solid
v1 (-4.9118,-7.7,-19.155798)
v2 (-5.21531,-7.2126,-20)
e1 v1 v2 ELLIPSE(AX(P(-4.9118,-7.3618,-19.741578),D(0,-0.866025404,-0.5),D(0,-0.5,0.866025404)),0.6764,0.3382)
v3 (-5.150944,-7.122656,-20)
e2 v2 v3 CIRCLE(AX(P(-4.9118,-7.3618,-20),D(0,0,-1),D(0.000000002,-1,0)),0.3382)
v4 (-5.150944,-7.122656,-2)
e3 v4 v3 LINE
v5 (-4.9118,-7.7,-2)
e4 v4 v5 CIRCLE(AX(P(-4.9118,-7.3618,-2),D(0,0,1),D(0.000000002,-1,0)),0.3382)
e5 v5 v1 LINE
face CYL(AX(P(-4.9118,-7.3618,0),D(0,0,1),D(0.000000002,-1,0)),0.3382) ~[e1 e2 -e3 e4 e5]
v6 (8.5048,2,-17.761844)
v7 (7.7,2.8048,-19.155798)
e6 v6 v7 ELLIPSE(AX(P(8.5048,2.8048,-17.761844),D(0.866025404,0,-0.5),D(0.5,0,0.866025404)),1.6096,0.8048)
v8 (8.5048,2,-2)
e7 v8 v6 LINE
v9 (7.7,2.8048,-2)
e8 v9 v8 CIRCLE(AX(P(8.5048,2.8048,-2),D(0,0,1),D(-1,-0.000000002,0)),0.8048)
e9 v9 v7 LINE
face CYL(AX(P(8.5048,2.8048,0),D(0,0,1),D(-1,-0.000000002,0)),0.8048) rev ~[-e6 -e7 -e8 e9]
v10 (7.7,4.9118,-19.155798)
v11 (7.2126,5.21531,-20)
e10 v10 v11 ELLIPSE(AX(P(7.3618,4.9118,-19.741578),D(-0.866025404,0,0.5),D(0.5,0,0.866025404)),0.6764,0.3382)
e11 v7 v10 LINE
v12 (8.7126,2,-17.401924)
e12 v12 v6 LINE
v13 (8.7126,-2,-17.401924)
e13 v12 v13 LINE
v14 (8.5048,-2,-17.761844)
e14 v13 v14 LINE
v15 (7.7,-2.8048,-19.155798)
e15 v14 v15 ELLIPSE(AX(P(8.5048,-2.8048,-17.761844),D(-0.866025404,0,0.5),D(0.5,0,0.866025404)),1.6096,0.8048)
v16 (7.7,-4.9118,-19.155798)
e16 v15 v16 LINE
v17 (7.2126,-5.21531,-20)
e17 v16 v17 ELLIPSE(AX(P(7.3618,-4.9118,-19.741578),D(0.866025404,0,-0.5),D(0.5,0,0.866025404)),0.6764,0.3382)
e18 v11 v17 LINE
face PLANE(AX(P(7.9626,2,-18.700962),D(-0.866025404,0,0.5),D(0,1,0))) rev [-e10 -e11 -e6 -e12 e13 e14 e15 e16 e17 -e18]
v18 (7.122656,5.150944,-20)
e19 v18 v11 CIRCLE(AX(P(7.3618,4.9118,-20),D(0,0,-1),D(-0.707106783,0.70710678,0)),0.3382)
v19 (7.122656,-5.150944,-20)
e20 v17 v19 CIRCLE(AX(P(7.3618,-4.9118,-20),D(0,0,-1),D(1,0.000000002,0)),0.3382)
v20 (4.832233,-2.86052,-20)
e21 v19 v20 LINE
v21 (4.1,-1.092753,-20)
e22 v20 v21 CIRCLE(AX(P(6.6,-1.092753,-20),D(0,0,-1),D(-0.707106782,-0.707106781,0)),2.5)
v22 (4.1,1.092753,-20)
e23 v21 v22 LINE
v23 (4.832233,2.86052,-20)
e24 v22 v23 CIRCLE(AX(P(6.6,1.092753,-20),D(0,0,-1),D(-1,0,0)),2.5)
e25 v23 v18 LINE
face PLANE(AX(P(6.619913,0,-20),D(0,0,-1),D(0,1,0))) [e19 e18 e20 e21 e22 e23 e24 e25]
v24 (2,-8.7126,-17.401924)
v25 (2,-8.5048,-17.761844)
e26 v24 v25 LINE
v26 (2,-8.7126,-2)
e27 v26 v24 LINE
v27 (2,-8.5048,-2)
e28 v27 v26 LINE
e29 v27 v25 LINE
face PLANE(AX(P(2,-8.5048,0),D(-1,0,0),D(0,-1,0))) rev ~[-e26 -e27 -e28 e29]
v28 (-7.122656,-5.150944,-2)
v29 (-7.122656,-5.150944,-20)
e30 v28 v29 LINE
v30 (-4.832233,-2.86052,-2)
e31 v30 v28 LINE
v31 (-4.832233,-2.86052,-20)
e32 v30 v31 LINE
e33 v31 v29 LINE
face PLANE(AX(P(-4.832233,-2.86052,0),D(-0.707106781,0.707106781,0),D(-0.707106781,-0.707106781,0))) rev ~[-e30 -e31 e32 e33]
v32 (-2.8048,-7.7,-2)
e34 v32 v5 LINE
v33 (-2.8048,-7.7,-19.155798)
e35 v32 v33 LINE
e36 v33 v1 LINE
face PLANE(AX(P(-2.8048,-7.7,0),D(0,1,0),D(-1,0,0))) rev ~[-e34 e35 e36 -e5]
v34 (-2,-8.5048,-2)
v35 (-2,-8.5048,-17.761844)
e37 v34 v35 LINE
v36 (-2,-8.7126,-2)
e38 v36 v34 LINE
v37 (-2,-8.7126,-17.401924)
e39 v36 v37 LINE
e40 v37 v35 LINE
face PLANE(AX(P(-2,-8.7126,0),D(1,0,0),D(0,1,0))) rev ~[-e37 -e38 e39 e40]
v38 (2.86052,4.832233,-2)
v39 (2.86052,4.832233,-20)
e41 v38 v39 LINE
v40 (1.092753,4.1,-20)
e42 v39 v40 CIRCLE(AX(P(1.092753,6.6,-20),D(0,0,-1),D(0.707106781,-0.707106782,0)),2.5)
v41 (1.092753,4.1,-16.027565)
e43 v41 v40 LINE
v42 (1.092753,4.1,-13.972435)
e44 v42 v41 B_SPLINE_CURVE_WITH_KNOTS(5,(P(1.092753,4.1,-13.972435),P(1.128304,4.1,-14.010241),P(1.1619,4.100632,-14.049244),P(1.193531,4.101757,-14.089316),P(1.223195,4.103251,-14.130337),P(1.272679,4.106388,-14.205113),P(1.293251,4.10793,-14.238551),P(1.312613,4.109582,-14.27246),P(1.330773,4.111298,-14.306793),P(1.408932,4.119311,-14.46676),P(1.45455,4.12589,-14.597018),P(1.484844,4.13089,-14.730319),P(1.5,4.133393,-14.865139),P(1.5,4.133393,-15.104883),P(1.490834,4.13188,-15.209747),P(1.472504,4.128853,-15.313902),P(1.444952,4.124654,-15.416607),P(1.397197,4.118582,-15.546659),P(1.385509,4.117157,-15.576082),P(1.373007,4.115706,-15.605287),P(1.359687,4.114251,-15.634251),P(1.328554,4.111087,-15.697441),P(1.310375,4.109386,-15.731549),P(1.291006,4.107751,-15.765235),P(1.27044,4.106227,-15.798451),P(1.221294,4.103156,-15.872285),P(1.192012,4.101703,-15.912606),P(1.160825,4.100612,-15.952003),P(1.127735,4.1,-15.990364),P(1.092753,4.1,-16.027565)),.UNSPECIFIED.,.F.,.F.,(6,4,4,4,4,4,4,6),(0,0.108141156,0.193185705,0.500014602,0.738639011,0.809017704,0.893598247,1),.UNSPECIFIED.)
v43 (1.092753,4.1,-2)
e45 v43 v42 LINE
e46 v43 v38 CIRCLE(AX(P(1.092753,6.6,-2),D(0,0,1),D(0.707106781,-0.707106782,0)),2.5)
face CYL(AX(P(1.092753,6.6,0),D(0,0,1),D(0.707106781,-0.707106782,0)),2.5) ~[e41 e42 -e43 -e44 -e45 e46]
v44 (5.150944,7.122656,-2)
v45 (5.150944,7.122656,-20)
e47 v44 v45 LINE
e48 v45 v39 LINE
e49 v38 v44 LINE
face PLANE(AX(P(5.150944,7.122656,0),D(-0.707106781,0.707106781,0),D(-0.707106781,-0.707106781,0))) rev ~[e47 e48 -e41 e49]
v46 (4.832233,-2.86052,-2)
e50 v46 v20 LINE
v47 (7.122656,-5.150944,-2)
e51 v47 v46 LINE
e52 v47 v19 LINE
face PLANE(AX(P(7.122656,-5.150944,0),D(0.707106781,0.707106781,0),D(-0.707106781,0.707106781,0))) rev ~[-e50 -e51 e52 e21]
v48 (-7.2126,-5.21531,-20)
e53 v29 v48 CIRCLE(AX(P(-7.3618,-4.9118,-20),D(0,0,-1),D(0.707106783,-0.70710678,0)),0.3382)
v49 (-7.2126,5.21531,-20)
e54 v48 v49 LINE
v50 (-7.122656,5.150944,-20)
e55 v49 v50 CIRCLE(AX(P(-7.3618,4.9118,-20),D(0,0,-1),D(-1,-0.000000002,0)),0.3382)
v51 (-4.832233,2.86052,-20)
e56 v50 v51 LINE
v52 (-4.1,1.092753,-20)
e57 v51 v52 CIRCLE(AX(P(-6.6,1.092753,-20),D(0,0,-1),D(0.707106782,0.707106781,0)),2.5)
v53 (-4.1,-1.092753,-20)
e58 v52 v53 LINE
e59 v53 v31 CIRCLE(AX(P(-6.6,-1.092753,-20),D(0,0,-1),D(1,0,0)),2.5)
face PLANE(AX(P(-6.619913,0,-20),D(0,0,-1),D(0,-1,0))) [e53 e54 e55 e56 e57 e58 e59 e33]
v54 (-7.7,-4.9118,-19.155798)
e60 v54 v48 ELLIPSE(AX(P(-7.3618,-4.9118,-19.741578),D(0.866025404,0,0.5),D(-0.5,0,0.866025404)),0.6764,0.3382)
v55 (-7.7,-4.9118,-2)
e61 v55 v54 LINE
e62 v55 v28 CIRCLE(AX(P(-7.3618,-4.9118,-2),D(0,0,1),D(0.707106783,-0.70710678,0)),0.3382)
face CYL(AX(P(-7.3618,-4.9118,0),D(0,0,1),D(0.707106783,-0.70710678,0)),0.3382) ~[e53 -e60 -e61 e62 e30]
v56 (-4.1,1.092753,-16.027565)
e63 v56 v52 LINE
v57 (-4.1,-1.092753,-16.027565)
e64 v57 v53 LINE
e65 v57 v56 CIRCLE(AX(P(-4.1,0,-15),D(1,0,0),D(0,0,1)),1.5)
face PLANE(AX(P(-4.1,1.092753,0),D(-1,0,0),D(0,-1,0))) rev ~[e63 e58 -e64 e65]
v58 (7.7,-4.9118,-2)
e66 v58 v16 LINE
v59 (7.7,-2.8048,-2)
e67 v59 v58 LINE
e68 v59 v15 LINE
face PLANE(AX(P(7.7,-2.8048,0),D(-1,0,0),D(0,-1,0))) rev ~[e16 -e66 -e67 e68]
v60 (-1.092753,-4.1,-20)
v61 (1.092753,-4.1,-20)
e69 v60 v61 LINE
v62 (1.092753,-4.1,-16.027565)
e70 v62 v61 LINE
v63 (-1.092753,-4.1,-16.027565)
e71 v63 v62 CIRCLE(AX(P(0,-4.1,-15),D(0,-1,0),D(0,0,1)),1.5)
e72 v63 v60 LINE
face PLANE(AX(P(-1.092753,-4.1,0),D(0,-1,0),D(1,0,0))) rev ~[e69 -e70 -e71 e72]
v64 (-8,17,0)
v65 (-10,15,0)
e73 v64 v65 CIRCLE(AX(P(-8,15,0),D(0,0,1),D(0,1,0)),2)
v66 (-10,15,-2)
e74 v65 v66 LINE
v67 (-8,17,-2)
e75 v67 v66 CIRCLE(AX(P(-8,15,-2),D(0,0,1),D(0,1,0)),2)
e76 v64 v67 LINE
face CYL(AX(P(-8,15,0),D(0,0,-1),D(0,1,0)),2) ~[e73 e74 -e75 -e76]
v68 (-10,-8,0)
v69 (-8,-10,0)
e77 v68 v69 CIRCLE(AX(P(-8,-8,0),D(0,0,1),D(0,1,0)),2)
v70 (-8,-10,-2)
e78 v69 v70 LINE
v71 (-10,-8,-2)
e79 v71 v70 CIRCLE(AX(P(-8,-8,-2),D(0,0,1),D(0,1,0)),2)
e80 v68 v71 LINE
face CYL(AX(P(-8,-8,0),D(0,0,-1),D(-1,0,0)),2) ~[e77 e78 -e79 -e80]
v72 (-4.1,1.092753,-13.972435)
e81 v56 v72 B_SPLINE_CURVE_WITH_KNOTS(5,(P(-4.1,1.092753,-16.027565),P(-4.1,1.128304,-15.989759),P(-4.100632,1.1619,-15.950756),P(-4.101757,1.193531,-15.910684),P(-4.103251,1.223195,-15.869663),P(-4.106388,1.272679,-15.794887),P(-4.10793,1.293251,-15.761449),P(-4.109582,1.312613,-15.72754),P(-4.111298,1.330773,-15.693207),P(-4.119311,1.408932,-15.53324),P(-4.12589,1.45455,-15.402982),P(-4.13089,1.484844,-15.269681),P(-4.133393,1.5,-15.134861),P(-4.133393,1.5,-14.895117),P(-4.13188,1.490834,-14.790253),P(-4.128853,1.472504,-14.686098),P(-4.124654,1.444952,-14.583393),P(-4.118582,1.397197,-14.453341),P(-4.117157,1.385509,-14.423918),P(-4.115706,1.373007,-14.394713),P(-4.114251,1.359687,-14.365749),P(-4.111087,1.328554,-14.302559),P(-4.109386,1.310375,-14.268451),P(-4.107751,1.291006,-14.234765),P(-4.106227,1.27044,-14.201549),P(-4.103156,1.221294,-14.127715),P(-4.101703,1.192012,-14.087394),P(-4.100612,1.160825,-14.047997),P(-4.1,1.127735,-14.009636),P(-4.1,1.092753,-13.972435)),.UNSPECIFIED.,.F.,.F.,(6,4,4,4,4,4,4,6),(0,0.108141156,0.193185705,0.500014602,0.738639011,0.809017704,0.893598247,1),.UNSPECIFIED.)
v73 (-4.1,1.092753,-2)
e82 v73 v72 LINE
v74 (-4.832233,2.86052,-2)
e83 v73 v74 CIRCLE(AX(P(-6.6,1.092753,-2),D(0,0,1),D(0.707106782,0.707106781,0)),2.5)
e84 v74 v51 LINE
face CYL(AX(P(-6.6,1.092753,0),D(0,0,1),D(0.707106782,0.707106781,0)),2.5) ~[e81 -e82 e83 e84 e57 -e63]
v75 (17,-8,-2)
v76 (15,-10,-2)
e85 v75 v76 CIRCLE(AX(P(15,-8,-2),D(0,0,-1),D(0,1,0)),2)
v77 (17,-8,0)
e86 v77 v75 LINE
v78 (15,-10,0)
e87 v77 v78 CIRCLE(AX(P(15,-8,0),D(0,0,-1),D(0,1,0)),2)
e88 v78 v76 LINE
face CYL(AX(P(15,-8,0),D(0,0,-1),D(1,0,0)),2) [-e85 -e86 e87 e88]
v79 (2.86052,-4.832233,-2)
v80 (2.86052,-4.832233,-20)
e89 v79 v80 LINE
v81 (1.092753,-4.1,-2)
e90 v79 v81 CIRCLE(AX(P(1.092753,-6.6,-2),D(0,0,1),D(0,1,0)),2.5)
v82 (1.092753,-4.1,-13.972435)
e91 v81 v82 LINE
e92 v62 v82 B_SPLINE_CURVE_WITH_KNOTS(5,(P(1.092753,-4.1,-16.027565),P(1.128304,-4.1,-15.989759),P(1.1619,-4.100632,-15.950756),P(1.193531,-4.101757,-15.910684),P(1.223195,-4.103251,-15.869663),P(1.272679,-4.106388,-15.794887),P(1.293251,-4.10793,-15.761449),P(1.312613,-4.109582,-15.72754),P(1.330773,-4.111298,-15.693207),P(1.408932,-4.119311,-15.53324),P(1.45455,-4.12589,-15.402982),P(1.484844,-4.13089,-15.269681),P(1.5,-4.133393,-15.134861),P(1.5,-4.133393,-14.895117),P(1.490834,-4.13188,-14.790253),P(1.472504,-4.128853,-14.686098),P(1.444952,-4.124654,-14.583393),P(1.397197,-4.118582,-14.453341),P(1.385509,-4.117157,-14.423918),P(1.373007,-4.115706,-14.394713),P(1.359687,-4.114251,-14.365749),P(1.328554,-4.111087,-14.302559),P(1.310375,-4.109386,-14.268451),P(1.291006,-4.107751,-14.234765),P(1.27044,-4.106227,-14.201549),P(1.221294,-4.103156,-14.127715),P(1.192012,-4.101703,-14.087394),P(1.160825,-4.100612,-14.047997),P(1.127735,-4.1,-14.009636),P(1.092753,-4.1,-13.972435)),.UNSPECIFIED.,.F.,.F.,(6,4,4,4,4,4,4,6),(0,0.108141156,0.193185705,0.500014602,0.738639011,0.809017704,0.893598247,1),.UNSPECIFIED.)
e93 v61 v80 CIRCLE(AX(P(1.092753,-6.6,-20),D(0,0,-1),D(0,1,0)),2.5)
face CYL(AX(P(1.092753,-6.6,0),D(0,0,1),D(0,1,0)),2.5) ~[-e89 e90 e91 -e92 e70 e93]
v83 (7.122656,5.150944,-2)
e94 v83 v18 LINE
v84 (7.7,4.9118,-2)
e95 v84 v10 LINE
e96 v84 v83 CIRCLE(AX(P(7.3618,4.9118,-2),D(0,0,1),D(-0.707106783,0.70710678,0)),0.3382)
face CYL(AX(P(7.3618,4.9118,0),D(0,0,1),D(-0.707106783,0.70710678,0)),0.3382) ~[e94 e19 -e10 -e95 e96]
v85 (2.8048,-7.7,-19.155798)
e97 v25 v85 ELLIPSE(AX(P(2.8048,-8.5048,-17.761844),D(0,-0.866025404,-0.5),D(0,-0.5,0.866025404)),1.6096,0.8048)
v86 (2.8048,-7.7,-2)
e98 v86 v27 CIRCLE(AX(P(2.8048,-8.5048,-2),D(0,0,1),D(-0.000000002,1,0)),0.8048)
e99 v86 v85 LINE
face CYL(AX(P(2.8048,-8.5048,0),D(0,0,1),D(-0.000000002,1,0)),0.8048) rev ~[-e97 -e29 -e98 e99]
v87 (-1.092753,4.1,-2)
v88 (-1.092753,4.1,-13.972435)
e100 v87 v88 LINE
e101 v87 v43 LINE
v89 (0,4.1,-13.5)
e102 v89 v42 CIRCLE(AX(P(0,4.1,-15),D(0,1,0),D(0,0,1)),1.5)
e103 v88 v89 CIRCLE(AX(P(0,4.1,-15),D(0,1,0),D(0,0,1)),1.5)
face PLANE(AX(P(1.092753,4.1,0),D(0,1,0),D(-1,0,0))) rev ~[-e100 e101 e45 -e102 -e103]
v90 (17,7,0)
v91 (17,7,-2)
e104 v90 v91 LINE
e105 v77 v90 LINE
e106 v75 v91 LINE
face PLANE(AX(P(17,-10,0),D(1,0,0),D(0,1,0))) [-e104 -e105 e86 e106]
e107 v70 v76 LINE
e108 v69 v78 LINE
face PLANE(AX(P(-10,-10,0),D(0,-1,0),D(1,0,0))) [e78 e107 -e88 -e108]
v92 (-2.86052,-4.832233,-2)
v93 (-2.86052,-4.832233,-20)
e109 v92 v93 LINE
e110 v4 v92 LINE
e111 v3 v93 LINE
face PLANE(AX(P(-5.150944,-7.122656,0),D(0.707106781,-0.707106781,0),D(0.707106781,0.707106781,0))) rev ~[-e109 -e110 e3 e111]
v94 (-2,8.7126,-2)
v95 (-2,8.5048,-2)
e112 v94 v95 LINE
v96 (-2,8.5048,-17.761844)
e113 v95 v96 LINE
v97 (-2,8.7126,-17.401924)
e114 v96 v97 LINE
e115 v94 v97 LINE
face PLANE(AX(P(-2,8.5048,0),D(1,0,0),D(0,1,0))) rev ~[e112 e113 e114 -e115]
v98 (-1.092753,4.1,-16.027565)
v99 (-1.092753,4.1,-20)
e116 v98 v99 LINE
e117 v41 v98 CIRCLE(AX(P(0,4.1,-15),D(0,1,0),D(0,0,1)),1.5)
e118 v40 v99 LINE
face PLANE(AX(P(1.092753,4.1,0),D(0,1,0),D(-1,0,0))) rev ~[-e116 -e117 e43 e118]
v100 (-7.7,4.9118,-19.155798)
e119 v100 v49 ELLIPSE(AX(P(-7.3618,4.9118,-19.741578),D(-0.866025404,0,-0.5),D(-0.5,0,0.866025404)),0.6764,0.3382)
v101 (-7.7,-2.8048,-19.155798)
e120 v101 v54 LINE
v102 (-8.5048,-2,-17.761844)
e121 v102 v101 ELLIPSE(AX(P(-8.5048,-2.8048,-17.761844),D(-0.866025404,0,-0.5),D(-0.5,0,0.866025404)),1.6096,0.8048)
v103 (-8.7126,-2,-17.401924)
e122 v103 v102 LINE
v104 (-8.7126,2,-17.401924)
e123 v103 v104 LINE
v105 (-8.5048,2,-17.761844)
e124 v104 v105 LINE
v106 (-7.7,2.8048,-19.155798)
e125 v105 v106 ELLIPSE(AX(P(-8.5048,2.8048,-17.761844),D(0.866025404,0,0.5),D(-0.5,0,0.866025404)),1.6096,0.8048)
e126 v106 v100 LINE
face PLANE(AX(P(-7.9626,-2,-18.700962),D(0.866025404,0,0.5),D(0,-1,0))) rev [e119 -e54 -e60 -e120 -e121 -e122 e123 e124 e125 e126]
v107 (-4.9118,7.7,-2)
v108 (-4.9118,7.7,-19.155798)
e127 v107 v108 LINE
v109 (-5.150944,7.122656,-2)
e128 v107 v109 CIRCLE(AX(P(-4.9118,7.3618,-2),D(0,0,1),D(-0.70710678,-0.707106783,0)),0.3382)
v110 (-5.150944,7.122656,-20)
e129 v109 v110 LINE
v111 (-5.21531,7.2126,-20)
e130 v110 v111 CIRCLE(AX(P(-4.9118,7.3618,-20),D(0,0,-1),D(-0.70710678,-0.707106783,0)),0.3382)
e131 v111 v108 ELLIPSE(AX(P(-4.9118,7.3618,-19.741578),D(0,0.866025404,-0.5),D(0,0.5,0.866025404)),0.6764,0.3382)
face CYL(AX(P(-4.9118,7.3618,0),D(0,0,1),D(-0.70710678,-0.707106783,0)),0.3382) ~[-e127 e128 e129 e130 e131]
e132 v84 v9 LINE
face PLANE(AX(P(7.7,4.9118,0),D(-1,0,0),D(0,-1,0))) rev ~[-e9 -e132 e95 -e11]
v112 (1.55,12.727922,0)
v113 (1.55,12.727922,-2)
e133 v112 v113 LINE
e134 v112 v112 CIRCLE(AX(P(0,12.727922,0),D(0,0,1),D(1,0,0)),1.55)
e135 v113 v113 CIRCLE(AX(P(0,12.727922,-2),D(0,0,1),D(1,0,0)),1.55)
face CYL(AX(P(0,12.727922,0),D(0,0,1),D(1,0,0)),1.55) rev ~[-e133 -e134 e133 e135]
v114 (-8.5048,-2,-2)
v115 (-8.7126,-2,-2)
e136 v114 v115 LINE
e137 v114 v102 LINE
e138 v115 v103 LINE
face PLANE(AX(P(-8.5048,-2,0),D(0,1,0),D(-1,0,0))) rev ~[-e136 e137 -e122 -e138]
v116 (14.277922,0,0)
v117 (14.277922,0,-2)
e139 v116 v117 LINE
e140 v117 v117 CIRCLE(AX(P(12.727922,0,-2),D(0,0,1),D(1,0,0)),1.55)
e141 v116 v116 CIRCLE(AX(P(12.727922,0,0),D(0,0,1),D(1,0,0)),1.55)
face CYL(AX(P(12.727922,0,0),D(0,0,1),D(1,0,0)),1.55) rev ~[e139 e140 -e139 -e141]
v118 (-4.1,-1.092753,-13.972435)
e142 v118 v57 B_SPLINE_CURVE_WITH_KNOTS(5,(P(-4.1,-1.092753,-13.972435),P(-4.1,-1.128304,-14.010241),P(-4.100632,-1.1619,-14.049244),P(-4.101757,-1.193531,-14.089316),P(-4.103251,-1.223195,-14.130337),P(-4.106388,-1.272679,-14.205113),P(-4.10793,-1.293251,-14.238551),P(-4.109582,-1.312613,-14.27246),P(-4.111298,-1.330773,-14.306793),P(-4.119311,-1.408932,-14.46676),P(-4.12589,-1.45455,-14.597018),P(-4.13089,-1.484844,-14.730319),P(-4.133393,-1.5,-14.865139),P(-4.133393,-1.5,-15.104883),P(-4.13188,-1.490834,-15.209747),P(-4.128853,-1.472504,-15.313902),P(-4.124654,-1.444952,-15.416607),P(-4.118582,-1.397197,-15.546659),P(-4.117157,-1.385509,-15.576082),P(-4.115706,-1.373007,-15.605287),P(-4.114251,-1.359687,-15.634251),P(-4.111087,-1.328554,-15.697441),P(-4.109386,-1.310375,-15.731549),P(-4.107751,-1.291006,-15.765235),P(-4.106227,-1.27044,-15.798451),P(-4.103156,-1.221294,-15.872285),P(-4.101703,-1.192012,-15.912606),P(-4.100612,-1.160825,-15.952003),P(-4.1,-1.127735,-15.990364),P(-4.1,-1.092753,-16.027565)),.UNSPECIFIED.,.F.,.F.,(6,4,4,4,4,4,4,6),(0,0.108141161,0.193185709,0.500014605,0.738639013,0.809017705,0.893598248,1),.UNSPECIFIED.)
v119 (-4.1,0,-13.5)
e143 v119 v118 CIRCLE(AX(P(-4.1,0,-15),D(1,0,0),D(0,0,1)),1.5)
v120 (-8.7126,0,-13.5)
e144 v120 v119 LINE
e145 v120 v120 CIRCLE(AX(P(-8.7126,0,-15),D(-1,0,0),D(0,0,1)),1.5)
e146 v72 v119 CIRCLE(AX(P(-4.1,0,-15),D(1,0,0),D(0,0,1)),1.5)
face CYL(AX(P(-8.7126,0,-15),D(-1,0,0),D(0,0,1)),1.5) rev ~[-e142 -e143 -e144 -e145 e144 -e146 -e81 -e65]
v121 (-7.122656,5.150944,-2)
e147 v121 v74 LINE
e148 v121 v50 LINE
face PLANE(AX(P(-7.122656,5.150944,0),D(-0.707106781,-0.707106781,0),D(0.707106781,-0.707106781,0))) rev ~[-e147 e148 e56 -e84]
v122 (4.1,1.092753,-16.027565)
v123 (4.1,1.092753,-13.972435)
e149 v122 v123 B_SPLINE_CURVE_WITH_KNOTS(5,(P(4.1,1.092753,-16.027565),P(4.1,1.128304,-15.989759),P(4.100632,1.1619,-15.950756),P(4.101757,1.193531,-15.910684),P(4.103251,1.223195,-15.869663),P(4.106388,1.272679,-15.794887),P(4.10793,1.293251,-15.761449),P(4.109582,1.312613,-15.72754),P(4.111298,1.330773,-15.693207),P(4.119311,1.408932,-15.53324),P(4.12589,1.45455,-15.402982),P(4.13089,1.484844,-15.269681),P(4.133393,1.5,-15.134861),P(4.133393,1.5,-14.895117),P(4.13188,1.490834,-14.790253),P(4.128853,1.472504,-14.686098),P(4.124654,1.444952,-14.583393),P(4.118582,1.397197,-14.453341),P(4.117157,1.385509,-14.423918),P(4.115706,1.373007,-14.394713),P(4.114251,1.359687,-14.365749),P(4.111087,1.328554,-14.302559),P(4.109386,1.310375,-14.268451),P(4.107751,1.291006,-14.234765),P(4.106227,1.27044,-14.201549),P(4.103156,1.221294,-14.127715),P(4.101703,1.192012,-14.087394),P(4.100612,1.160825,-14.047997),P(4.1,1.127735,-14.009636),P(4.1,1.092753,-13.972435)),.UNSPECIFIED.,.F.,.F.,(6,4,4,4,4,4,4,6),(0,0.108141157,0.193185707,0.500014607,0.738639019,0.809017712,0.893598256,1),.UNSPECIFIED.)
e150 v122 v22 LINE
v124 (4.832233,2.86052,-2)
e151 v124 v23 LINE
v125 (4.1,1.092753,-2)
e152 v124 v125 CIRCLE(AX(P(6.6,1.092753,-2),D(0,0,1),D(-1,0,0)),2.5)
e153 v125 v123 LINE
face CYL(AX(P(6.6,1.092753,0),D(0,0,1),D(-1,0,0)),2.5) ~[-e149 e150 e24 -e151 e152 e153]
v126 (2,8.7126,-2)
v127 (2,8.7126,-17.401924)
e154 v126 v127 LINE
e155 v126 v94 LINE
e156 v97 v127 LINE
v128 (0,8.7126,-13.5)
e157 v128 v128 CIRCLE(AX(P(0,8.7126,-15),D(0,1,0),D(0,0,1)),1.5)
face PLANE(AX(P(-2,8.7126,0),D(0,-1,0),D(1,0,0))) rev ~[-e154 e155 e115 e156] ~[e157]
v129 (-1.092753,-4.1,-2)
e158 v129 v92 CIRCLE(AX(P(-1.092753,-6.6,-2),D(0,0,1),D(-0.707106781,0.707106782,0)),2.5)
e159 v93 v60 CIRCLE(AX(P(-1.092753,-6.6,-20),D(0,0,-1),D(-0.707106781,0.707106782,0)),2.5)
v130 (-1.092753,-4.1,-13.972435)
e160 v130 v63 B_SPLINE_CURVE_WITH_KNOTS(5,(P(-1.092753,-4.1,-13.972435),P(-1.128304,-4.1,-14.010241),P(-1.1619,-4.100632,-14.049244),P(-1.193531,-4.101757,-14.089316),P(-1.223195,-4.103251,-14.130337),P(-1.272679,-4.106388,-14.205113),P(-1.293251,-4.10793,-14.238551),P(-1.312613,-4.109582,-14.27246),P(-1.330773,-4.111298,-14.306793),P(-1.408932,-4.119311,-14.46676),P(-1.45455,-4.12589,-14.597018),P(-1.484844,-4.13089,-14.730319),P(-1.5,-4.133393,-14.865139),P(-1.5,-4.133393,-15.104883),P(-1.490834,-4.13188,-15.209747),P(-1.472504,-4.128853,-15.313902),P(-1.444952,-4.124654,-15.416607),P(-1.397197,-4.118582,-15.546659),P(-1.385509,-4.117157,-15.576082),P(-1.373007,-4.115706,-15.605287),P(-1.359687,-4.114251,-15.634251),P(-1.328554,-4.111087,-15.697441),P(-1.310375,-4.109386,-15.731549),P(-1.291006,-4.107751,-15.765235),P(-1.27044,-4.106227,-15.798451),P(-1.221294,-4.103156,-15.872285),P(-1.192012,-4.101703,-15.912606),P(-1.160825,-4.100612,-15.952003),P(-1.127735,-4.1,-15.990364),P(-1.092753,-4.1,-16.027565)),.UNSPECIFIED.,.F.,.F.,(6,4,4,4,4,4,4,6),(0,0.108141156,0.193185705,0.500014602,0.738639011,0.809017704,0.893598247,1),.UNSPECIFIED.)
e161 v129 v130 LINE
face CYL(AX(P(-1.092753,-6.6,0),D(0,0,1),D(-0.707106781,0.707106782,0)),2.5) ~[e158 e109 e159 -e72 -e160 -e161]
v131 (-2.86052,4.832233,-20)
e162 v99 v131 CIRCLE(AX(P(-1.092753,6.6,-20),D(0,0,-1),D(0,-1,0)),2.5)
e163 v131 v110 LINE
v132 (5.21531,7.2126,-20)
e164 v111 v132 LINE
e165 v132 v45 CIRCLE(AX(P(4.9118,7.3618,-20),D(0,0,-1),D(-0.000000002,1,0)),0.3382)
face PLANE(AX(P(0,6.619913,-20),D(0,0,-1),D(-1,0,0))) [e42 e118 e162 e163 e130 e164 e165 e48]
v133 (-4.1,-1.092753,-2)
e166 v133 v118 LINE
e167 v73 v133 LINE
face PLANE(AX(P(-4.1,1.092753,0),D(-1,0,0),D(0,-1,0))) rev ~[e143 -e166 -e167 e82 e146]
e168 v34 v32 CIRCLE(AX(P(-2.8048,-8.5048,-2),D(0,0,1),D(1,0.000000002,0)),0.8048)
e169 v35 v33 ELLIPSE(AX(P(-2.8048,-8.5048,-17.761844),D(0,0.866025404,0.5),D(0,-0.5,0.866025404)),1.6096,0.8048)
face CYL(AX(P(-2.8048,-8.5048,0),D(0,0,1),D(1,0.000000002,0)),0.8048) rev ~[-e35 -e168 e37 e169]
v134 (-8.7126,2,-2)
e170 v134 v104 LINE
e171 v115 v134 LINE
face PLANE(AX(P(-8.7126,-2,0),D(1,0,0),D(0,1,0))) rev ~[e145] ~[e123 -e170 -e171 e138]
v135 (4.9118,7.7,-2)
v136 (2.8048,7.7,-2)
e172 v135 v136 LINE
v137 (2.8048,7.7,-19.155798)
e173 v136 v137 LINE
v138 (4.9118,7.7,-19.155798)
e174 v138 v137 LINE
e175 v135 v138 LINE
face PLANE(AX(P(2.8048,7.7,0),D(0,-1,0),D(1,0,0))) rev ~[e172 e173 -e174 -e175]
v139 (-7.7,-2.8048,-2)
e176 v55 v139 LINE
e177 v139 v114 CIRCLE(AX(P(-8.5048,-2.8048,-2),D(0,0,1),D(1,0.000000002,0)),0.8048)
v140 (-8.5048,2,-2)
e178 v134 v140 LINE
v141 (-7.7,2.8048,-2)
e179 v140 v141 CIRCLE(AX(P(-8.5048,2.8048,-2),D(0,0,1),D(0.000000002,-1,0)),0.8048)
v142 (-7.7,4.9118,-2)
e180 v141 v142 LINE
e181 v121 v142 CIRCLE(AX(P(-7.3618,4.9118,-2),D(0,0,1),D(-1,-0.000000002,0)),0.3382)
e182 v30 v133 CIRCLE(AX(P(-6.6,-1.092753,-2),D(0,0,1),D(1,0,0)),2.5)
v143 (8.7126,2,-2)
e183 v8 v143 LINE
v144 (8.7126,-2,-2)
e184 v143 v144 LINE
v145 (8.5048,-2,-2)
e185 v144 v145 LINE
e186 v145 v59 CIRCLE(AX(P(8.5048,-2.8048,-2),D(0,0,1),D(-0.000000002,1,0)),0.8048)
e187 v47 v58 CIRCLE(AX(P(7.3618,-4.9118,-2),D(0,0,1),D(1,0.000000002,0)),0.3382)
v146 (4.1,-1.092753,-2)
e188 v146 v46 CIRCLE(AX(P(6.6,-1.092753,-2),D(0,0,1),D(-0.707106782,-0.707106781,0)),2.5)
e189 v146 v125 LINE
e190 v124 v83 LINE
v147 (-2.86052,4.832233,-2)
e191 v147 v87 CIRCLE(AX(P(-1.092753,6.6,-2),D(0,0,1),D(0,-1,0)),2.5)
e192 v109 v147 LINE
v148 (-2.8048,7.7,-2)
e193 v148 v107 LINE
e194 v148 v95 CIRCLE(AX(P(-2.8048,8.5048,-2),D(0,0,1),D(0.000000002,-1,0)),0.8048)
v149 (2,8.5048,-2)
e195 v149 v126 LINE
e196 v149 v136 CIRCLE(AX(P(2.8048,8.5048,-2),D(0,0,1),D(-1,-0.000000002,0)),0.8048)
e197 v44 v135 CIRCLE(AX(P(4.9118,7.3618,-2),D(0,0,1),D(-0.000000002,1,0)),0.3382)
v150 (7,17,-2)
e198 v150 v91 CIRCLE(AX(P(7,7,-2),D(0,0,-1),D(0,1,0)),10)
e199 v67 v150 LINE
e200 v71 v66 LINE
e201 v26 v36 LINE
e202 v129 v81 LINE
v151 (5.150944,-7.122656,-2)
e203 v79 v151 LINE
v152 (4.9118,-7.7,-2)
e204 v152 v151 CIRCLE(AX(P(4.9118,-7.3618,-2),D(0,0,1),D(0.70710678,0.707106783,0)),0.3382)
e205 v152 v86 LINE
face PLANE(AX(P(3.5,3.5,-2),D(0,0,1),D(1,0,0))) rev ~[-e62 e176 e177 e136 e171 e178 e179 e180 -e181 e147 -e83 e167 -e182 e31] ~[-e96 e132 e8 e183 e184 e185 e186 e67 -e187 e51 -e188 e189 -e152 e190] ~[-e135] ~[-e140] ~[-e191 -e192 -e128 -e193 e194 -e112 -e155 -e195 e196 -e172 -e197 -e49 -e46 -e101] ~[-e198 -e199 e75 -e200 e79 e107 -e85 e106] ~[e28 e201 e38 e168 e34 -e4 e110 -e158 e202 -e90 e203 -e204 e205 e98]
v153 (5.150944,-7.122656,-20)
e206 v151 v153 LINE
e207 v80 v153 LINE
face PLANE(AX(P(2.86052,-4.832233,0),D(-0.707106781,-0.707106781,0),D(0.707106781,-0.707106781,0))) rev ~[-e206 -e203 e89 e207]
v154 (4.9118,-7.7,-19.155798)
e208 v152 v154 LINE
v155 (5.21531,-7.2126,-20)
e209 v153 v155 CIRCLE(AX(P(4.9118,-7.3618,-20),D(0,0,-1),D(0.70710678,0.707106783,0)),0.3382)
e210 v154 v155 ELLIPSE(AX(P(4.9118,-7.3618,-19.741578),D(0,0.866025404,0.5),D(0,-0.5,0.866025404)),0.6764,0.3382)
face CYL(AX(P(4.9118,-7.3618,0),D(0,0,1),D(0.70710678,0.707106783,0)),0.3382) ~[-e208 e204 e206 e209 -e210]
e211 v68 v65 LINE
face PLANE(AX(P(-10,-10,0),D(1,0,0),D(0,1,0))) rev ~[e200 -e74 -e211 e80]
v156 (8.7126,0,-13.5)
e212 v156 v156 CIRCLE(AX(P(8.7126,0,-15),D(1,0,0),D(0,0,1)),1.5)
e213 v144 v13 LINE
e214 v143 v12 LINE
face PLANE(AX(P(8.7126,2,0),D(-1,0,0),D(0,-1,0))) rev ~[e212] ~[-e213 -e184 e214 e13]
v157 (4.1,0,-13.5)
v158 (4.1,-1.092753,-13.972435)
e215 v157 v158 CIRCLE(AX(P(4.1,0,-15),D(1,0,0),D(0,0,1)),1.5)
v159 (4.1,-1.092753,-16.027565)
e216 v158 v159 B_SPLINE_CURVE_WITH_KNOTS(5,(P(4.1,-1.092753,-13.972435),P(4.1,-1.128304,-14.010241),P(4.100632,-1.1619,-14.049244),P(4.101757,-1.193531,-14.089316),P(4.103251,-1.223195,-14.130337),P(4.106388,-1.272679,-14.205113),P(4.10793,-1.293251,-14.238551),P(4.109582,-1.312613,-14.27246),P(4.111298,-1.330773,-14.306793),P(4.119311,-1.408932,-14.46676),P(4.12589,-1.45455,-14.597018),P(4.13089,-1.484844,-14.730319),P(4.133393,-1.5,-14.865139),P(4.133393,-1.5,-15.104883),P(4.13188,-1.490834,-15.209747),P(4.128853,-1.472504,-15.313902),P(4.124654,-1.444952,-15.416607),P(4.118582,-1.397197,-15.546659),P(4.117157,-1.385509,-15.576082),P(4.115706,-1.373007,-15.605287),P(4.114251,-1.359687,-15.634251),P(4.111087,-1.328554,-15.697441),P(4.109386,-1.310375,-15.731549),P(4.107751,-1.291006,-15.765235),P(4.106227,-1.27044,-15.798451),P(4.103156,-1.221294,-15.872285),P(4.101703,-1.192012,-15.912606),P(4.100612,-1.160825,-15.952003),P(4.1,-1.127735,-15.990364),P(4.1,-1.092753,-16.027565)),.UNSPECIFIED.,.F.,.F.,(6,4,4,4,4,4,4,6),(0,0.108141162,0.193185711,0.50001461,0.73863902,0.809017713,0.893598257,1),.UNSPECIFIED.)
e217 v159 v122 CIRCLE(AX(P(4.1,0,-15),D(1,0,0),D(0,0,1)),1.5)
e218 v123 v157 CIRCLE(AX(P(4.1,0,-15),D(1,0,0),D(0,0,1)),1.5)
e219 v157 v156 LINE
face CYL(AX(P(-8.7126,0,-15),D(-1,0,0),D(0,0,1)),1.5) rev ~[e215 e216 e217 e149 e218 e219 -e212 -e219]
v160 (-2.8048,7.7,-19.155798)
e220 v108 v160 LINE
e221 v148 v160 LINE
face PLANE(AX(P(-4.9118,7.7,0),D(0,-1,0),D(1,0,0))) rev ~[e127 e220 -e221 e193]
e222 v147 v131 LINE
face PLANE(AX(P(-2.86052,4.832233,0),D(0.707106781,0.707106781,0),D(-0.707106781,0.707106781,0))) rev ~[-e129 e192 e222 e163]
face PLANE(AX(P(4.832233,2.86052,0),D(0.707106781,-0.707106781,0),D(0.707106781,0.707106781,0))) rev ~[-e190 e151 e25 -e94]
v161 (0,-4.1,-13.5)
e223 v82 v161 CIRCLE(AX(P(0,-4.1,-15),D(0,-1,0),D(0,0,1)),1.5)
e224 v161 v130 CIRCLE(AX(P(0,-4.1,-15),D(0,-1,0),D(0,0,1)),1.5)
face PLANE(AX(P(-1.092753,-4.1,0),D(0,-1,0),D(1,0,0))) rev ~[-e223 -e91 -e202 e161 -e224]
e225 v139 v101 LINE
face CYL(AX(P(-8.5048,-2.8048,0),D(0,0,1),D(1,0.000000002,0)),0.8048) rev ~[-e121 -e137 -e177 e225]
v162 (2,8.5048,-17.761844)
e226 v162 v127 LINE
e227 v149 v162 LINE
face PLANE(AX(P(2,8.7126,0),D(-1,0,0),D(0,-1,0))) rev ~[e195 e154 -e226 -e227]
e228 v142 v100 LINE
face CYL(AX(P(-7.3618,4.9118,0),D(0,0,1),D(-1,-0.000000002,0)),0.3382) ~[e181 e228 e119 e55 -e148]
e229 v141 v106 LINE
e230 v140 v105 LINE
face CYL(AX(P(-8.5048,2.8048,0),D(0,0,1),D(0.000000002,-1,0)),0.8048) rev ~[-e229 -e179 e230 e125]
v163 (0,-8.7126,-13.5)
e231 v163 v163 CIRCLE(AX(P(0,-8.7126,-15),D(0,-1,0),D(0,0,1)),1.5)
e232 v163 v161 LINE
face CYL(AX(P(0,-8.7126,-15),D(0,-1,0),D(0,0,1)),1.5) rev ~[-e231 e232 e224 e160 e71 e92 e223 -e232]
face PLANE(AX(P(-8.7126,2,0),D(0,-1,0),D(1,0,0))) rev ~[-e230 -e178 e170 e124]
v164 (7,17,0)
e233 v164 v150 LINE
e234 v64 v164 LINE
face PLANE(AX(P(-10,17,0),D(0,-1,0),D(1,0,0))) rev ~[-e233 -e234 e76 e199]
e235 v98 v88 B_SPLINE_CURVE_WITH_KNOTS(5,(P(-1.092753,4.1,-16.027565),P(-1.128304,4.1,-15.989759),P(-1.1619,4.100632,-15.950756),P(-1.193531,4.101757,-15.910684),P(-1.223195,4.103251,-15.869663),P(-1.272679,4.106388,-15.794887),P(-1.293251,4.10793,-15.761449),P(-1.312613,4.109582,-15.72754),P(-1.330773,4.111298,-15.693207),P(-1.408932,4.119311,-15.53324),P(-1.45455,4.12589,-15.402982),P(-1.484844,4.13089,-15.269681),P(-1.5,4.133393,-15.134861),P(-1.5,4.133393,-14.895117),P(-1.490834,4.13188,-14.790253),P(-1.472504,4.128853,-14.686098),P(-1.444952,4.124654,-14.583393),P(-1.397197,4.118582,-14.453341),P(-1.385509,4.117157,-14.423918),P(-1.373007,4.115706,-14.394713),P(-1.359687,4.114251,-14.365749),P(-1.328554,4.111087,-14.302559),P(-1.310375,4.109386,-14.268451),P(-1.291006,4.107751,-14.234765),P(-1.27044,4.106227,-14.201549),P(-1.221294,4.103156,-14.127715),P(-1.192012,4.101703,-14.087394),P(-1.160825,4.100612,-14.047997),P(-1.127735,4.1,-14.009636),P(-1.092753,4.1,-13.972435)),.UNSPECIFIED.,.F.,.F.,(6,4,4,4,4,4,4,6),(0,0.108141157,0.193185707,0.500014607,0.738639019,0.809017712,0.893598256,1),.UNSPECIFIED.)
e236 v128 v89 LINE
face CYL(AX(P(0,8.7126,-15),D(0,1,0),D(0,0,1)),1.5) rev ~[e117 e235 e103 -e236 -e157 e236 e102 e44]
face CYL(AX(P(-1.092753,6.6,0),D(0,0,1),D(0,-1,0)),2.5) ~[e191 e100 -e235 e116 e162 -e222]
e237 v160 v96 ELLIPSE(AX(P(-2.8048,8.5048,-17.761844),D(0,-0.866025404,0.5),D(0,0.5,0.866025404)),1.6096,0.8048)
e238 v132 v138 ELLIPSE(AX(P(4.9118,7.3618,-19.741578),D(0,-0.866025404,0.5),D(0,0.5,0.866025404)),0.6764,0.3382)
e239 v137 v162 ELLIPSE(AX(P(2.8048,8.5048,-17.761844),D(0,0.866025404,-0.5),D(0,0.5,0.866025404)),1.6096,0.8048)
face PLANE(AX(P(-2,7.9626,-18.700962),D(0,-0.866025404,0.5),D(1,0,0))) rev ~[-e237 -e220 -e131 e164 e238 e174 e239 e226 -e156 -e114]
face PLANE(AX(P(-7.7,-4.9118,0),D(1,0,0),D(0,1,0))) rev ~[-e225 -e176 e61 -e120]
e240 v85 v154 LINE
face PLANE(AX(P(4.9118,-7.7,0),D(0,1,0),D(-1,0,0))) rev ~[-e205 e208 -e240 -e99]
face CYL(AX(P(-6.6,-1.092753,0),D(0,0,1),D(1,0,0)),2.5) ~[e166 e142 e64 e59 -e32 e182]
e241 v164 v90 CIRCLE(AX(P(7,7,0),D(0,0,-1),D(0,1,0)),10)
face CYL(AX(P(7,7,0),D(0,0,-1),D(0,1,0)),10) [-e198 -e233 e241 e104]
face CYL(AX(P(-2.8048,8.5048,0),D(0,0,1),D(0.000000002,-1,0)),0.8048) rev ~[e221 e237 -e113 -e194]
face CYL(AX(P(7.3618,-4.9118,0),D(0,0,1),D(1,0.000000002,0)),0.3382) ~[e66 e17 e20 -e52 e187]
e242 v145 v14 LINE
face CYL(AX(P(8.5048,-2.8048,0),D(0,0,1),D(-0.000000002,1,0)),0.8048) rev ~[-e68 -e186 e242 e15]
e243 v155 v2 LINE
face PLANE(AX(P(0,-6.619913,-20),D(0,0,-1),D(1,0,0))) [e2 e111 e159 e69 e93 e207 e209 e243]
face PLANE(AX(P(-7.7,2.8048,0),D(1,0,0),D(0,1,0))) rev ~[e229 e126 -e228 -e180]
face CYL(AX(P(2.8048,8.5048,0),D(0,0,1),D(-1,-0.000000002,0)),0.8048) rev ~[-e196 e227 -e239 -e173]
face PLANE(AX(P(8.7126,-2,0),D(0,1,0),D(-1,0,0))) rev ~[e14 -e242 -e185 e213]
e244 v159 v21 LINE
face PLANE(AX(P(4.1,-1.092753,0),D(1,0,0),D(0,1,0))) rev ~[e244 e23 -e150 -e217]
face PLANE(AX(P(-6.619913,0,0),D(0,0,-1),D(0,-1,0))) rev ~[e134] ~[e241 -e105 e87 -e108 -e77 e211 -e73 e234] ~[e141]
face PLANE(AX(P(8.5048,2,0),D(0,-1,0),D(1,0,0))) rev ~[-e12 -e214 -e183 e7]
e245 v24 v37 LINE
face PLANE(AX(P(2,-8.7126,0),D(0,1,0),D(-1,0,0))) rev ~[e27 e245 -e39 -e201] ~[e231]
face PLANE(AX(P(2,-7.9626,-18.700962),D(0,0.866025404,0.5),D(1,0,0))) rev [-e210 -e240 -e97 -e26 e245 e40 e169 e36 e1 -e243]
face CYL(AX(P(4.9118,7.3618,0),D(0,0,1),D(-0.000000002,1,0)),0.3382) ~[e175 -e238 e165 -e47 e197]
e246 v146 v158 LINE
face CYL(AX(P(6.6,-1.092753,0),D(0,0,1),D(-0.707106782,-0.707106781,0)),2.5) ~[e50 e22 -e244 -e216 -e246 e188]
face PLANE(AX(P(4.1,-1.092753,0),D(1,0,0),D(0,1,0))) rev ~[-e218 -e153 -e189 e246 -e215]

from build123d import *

# Parameters (mm, degrees)
BOSS_EXTRUDE2_DEPTH           = 20
CHAMFER2_SIZE                 = 1.5
CHAMFER2_SIZE2                = 2.598076211
SKETCH4_R                     = 1.5
CUT_EXTRUDE1_DEPTH            = 22.185810788
SKETCH6_W                     = 27
SKETCH6_H                     = 27
BOSS_EXTRUDE4_DEPTH           = 2
CIRPATTERN1_COUNT             = 4
CHAMFER2_OF_CIRPATTERN1_SIZE2 = 1.5
CHAMFER2_OF_CIRPATTERN1_SIZE  = 2.598076211
SKETCH10_R                    = 1.55
CUT_EXTRUDE3_DEPTH            = 32.272991606
FILLET1_R                     = 10
FILLET2_R                     = 2


with BuildPart() as part:
    # Sketch2 → Boss-Extrude2 (new body)
    with BuildSketch(Plane.XY):
        with BuildLine():
            Line((-2.860520074, 4.832233047), (-5.150943513, 7.122656487))
            ThreePointArc((-5.150943513, 7.122656487), (-5.224256058, 7.491223537), (-4.9118, 7.7))
            Line((-4.9118, 7.7), (-2.8048, 7.7))
            ThreePointArc((-2.8048, 7.7), (-2.235720463, 7.935720463), (-2, 8.5048))
            Line((-2, 8.5048), (-2, 8.7126))
            Line((-2, 8.7126), (2, 8.7126))
            Line((2, 8.7126), (2, 8.5048))
            ThreePointArc((2, 8.5048), (2.235720463, 7.935720463), (2.8048, 7.7))
            Line((2.8048, 7.7), (4.9118, 7.7))
            ThreePointArc((4.9118, 7.7), (5.224256058, 7.491223537), (5.150943513, 7.122656487))
            Line((5.150943513, 7.122656487), (2.860520074, 4.832233047))
            ThreePointArc((2.860520074, 4.832233047), (2.049461702, 4.290301169), (1.092753121, 4.1))
            Line((1.092753121, 4.1), (-1.092753121, 4.1))
            ThreePointArc((-1.092753121, 4.1), (-2.049461702, 4.290301169), (-2.860520074, 4.832233047))
        make_face()
    boss_extrude2 = extrude(amount=-BOSS_EXTRUDE2_DEPTH)

    # Chamfer2
    chamfer2_edges = [part.edges().sort_by_distance(p)[0] for p in [
        (0, 8.7126, -20),
    ]]
    chamfer2_side = [part.faces().sort_by_distance(p)[0] for p in [
        (0, 6.450366022, -20),
    ]]
    chamfer(chamfer2_edges, length=CHAMFER2_SIZE, length2=CHAMFER2_SIZE2, reference=chamfer2_side[0])

    # Sketch4 → Cut-Extrude1 (cut, through all)
    with BuildSketch(Plane(origin=(0, 8.7126, 0), x_dir=(1, 0, 0), z_dir=(0, 1, 0))):
        with Locations(Location((0, 15, 0), (0, 0, 270))):
            Circle(SKETCH4_R)
    cut_extrude1 = extrude(amount=-CUT_EXTRUDE1_DEPTH, mode=Mode.SUBTRACT)

    # Sketch6 → Boss-Extrude4 (add)
    with BuildSketch(Plane.XY):
        with Locations((3.5, 3.5)):
            Rectangle(SKETCH6_W, SKETCH6_H)
    extrude(amount=-BOSS_EXTRUDE4_DEPTH)

    # CirPattern1: Boss-Extrude2, Cut-Extrude1 ×4 about axis
    cirpattern1_axis = Axis((0, 0, 0), (0, 0, 1))
    add([boss_extrude2.rotate(cirpattern1_axis, i * 360 / CIRPATTERN1_COUNT) for i in range(1, CIRPATTERN1_COUNT)])
    add([cut_extrude1.rotate(cirpattern1_axis, i * 360 / CIRPATTERN1_COUNT) for i in range(1, CIRPATTERN1_COUNT)], mode=Mode.SUBTRACT)

    # Chamfer2 of CirPattern1
    chamfer2_of_cirpattern1_edges = [part.edges().sort_by_distance(p)[0] for p in [
        (-8.7126, 0, -20),
        (0, -8.7126, -20),
        (8.7126, 0, -20),
    ]]
    chamfer(chamfer2_of_cirpattern1_edges, length=CHAMFER2_OF_CIRPATTERN1_SIZE, length2=CHAMFER2_OF_CIRPATTERN1_SIZE2)

    # Sketch10 → Cut-Extrude3 (cut, through all)
    with BuildSketch(Plane.XY):
        with Locations((0, 12.727922061)):
            Circle(SKETCH10_R)
        with Locations((12.727922061, 0)):
            Circle(SKETCH10_R)
    extrude(amount=-CUT_EXTRUDE3_DEPTH, mode=Mode.SUBTRACT)

    # Fillet1
    fillet1_edges = [part.edges().sort_by_distance(p)[0] for p in [
        (17, 17, -1),
    ]]
    fillet(fillet1_edges, radius=FILLET1_R)

    # Fillet2
    fillet2_edges = [part.edges().sort_by_distance(p)[0] for p in [
        (-10, -10, -1),
        (-10, 17, -1),
        (17, -10, -1),
    ]]
    fillet(fillet2_edges, radius=FILLET2_R)


solid = part.part
